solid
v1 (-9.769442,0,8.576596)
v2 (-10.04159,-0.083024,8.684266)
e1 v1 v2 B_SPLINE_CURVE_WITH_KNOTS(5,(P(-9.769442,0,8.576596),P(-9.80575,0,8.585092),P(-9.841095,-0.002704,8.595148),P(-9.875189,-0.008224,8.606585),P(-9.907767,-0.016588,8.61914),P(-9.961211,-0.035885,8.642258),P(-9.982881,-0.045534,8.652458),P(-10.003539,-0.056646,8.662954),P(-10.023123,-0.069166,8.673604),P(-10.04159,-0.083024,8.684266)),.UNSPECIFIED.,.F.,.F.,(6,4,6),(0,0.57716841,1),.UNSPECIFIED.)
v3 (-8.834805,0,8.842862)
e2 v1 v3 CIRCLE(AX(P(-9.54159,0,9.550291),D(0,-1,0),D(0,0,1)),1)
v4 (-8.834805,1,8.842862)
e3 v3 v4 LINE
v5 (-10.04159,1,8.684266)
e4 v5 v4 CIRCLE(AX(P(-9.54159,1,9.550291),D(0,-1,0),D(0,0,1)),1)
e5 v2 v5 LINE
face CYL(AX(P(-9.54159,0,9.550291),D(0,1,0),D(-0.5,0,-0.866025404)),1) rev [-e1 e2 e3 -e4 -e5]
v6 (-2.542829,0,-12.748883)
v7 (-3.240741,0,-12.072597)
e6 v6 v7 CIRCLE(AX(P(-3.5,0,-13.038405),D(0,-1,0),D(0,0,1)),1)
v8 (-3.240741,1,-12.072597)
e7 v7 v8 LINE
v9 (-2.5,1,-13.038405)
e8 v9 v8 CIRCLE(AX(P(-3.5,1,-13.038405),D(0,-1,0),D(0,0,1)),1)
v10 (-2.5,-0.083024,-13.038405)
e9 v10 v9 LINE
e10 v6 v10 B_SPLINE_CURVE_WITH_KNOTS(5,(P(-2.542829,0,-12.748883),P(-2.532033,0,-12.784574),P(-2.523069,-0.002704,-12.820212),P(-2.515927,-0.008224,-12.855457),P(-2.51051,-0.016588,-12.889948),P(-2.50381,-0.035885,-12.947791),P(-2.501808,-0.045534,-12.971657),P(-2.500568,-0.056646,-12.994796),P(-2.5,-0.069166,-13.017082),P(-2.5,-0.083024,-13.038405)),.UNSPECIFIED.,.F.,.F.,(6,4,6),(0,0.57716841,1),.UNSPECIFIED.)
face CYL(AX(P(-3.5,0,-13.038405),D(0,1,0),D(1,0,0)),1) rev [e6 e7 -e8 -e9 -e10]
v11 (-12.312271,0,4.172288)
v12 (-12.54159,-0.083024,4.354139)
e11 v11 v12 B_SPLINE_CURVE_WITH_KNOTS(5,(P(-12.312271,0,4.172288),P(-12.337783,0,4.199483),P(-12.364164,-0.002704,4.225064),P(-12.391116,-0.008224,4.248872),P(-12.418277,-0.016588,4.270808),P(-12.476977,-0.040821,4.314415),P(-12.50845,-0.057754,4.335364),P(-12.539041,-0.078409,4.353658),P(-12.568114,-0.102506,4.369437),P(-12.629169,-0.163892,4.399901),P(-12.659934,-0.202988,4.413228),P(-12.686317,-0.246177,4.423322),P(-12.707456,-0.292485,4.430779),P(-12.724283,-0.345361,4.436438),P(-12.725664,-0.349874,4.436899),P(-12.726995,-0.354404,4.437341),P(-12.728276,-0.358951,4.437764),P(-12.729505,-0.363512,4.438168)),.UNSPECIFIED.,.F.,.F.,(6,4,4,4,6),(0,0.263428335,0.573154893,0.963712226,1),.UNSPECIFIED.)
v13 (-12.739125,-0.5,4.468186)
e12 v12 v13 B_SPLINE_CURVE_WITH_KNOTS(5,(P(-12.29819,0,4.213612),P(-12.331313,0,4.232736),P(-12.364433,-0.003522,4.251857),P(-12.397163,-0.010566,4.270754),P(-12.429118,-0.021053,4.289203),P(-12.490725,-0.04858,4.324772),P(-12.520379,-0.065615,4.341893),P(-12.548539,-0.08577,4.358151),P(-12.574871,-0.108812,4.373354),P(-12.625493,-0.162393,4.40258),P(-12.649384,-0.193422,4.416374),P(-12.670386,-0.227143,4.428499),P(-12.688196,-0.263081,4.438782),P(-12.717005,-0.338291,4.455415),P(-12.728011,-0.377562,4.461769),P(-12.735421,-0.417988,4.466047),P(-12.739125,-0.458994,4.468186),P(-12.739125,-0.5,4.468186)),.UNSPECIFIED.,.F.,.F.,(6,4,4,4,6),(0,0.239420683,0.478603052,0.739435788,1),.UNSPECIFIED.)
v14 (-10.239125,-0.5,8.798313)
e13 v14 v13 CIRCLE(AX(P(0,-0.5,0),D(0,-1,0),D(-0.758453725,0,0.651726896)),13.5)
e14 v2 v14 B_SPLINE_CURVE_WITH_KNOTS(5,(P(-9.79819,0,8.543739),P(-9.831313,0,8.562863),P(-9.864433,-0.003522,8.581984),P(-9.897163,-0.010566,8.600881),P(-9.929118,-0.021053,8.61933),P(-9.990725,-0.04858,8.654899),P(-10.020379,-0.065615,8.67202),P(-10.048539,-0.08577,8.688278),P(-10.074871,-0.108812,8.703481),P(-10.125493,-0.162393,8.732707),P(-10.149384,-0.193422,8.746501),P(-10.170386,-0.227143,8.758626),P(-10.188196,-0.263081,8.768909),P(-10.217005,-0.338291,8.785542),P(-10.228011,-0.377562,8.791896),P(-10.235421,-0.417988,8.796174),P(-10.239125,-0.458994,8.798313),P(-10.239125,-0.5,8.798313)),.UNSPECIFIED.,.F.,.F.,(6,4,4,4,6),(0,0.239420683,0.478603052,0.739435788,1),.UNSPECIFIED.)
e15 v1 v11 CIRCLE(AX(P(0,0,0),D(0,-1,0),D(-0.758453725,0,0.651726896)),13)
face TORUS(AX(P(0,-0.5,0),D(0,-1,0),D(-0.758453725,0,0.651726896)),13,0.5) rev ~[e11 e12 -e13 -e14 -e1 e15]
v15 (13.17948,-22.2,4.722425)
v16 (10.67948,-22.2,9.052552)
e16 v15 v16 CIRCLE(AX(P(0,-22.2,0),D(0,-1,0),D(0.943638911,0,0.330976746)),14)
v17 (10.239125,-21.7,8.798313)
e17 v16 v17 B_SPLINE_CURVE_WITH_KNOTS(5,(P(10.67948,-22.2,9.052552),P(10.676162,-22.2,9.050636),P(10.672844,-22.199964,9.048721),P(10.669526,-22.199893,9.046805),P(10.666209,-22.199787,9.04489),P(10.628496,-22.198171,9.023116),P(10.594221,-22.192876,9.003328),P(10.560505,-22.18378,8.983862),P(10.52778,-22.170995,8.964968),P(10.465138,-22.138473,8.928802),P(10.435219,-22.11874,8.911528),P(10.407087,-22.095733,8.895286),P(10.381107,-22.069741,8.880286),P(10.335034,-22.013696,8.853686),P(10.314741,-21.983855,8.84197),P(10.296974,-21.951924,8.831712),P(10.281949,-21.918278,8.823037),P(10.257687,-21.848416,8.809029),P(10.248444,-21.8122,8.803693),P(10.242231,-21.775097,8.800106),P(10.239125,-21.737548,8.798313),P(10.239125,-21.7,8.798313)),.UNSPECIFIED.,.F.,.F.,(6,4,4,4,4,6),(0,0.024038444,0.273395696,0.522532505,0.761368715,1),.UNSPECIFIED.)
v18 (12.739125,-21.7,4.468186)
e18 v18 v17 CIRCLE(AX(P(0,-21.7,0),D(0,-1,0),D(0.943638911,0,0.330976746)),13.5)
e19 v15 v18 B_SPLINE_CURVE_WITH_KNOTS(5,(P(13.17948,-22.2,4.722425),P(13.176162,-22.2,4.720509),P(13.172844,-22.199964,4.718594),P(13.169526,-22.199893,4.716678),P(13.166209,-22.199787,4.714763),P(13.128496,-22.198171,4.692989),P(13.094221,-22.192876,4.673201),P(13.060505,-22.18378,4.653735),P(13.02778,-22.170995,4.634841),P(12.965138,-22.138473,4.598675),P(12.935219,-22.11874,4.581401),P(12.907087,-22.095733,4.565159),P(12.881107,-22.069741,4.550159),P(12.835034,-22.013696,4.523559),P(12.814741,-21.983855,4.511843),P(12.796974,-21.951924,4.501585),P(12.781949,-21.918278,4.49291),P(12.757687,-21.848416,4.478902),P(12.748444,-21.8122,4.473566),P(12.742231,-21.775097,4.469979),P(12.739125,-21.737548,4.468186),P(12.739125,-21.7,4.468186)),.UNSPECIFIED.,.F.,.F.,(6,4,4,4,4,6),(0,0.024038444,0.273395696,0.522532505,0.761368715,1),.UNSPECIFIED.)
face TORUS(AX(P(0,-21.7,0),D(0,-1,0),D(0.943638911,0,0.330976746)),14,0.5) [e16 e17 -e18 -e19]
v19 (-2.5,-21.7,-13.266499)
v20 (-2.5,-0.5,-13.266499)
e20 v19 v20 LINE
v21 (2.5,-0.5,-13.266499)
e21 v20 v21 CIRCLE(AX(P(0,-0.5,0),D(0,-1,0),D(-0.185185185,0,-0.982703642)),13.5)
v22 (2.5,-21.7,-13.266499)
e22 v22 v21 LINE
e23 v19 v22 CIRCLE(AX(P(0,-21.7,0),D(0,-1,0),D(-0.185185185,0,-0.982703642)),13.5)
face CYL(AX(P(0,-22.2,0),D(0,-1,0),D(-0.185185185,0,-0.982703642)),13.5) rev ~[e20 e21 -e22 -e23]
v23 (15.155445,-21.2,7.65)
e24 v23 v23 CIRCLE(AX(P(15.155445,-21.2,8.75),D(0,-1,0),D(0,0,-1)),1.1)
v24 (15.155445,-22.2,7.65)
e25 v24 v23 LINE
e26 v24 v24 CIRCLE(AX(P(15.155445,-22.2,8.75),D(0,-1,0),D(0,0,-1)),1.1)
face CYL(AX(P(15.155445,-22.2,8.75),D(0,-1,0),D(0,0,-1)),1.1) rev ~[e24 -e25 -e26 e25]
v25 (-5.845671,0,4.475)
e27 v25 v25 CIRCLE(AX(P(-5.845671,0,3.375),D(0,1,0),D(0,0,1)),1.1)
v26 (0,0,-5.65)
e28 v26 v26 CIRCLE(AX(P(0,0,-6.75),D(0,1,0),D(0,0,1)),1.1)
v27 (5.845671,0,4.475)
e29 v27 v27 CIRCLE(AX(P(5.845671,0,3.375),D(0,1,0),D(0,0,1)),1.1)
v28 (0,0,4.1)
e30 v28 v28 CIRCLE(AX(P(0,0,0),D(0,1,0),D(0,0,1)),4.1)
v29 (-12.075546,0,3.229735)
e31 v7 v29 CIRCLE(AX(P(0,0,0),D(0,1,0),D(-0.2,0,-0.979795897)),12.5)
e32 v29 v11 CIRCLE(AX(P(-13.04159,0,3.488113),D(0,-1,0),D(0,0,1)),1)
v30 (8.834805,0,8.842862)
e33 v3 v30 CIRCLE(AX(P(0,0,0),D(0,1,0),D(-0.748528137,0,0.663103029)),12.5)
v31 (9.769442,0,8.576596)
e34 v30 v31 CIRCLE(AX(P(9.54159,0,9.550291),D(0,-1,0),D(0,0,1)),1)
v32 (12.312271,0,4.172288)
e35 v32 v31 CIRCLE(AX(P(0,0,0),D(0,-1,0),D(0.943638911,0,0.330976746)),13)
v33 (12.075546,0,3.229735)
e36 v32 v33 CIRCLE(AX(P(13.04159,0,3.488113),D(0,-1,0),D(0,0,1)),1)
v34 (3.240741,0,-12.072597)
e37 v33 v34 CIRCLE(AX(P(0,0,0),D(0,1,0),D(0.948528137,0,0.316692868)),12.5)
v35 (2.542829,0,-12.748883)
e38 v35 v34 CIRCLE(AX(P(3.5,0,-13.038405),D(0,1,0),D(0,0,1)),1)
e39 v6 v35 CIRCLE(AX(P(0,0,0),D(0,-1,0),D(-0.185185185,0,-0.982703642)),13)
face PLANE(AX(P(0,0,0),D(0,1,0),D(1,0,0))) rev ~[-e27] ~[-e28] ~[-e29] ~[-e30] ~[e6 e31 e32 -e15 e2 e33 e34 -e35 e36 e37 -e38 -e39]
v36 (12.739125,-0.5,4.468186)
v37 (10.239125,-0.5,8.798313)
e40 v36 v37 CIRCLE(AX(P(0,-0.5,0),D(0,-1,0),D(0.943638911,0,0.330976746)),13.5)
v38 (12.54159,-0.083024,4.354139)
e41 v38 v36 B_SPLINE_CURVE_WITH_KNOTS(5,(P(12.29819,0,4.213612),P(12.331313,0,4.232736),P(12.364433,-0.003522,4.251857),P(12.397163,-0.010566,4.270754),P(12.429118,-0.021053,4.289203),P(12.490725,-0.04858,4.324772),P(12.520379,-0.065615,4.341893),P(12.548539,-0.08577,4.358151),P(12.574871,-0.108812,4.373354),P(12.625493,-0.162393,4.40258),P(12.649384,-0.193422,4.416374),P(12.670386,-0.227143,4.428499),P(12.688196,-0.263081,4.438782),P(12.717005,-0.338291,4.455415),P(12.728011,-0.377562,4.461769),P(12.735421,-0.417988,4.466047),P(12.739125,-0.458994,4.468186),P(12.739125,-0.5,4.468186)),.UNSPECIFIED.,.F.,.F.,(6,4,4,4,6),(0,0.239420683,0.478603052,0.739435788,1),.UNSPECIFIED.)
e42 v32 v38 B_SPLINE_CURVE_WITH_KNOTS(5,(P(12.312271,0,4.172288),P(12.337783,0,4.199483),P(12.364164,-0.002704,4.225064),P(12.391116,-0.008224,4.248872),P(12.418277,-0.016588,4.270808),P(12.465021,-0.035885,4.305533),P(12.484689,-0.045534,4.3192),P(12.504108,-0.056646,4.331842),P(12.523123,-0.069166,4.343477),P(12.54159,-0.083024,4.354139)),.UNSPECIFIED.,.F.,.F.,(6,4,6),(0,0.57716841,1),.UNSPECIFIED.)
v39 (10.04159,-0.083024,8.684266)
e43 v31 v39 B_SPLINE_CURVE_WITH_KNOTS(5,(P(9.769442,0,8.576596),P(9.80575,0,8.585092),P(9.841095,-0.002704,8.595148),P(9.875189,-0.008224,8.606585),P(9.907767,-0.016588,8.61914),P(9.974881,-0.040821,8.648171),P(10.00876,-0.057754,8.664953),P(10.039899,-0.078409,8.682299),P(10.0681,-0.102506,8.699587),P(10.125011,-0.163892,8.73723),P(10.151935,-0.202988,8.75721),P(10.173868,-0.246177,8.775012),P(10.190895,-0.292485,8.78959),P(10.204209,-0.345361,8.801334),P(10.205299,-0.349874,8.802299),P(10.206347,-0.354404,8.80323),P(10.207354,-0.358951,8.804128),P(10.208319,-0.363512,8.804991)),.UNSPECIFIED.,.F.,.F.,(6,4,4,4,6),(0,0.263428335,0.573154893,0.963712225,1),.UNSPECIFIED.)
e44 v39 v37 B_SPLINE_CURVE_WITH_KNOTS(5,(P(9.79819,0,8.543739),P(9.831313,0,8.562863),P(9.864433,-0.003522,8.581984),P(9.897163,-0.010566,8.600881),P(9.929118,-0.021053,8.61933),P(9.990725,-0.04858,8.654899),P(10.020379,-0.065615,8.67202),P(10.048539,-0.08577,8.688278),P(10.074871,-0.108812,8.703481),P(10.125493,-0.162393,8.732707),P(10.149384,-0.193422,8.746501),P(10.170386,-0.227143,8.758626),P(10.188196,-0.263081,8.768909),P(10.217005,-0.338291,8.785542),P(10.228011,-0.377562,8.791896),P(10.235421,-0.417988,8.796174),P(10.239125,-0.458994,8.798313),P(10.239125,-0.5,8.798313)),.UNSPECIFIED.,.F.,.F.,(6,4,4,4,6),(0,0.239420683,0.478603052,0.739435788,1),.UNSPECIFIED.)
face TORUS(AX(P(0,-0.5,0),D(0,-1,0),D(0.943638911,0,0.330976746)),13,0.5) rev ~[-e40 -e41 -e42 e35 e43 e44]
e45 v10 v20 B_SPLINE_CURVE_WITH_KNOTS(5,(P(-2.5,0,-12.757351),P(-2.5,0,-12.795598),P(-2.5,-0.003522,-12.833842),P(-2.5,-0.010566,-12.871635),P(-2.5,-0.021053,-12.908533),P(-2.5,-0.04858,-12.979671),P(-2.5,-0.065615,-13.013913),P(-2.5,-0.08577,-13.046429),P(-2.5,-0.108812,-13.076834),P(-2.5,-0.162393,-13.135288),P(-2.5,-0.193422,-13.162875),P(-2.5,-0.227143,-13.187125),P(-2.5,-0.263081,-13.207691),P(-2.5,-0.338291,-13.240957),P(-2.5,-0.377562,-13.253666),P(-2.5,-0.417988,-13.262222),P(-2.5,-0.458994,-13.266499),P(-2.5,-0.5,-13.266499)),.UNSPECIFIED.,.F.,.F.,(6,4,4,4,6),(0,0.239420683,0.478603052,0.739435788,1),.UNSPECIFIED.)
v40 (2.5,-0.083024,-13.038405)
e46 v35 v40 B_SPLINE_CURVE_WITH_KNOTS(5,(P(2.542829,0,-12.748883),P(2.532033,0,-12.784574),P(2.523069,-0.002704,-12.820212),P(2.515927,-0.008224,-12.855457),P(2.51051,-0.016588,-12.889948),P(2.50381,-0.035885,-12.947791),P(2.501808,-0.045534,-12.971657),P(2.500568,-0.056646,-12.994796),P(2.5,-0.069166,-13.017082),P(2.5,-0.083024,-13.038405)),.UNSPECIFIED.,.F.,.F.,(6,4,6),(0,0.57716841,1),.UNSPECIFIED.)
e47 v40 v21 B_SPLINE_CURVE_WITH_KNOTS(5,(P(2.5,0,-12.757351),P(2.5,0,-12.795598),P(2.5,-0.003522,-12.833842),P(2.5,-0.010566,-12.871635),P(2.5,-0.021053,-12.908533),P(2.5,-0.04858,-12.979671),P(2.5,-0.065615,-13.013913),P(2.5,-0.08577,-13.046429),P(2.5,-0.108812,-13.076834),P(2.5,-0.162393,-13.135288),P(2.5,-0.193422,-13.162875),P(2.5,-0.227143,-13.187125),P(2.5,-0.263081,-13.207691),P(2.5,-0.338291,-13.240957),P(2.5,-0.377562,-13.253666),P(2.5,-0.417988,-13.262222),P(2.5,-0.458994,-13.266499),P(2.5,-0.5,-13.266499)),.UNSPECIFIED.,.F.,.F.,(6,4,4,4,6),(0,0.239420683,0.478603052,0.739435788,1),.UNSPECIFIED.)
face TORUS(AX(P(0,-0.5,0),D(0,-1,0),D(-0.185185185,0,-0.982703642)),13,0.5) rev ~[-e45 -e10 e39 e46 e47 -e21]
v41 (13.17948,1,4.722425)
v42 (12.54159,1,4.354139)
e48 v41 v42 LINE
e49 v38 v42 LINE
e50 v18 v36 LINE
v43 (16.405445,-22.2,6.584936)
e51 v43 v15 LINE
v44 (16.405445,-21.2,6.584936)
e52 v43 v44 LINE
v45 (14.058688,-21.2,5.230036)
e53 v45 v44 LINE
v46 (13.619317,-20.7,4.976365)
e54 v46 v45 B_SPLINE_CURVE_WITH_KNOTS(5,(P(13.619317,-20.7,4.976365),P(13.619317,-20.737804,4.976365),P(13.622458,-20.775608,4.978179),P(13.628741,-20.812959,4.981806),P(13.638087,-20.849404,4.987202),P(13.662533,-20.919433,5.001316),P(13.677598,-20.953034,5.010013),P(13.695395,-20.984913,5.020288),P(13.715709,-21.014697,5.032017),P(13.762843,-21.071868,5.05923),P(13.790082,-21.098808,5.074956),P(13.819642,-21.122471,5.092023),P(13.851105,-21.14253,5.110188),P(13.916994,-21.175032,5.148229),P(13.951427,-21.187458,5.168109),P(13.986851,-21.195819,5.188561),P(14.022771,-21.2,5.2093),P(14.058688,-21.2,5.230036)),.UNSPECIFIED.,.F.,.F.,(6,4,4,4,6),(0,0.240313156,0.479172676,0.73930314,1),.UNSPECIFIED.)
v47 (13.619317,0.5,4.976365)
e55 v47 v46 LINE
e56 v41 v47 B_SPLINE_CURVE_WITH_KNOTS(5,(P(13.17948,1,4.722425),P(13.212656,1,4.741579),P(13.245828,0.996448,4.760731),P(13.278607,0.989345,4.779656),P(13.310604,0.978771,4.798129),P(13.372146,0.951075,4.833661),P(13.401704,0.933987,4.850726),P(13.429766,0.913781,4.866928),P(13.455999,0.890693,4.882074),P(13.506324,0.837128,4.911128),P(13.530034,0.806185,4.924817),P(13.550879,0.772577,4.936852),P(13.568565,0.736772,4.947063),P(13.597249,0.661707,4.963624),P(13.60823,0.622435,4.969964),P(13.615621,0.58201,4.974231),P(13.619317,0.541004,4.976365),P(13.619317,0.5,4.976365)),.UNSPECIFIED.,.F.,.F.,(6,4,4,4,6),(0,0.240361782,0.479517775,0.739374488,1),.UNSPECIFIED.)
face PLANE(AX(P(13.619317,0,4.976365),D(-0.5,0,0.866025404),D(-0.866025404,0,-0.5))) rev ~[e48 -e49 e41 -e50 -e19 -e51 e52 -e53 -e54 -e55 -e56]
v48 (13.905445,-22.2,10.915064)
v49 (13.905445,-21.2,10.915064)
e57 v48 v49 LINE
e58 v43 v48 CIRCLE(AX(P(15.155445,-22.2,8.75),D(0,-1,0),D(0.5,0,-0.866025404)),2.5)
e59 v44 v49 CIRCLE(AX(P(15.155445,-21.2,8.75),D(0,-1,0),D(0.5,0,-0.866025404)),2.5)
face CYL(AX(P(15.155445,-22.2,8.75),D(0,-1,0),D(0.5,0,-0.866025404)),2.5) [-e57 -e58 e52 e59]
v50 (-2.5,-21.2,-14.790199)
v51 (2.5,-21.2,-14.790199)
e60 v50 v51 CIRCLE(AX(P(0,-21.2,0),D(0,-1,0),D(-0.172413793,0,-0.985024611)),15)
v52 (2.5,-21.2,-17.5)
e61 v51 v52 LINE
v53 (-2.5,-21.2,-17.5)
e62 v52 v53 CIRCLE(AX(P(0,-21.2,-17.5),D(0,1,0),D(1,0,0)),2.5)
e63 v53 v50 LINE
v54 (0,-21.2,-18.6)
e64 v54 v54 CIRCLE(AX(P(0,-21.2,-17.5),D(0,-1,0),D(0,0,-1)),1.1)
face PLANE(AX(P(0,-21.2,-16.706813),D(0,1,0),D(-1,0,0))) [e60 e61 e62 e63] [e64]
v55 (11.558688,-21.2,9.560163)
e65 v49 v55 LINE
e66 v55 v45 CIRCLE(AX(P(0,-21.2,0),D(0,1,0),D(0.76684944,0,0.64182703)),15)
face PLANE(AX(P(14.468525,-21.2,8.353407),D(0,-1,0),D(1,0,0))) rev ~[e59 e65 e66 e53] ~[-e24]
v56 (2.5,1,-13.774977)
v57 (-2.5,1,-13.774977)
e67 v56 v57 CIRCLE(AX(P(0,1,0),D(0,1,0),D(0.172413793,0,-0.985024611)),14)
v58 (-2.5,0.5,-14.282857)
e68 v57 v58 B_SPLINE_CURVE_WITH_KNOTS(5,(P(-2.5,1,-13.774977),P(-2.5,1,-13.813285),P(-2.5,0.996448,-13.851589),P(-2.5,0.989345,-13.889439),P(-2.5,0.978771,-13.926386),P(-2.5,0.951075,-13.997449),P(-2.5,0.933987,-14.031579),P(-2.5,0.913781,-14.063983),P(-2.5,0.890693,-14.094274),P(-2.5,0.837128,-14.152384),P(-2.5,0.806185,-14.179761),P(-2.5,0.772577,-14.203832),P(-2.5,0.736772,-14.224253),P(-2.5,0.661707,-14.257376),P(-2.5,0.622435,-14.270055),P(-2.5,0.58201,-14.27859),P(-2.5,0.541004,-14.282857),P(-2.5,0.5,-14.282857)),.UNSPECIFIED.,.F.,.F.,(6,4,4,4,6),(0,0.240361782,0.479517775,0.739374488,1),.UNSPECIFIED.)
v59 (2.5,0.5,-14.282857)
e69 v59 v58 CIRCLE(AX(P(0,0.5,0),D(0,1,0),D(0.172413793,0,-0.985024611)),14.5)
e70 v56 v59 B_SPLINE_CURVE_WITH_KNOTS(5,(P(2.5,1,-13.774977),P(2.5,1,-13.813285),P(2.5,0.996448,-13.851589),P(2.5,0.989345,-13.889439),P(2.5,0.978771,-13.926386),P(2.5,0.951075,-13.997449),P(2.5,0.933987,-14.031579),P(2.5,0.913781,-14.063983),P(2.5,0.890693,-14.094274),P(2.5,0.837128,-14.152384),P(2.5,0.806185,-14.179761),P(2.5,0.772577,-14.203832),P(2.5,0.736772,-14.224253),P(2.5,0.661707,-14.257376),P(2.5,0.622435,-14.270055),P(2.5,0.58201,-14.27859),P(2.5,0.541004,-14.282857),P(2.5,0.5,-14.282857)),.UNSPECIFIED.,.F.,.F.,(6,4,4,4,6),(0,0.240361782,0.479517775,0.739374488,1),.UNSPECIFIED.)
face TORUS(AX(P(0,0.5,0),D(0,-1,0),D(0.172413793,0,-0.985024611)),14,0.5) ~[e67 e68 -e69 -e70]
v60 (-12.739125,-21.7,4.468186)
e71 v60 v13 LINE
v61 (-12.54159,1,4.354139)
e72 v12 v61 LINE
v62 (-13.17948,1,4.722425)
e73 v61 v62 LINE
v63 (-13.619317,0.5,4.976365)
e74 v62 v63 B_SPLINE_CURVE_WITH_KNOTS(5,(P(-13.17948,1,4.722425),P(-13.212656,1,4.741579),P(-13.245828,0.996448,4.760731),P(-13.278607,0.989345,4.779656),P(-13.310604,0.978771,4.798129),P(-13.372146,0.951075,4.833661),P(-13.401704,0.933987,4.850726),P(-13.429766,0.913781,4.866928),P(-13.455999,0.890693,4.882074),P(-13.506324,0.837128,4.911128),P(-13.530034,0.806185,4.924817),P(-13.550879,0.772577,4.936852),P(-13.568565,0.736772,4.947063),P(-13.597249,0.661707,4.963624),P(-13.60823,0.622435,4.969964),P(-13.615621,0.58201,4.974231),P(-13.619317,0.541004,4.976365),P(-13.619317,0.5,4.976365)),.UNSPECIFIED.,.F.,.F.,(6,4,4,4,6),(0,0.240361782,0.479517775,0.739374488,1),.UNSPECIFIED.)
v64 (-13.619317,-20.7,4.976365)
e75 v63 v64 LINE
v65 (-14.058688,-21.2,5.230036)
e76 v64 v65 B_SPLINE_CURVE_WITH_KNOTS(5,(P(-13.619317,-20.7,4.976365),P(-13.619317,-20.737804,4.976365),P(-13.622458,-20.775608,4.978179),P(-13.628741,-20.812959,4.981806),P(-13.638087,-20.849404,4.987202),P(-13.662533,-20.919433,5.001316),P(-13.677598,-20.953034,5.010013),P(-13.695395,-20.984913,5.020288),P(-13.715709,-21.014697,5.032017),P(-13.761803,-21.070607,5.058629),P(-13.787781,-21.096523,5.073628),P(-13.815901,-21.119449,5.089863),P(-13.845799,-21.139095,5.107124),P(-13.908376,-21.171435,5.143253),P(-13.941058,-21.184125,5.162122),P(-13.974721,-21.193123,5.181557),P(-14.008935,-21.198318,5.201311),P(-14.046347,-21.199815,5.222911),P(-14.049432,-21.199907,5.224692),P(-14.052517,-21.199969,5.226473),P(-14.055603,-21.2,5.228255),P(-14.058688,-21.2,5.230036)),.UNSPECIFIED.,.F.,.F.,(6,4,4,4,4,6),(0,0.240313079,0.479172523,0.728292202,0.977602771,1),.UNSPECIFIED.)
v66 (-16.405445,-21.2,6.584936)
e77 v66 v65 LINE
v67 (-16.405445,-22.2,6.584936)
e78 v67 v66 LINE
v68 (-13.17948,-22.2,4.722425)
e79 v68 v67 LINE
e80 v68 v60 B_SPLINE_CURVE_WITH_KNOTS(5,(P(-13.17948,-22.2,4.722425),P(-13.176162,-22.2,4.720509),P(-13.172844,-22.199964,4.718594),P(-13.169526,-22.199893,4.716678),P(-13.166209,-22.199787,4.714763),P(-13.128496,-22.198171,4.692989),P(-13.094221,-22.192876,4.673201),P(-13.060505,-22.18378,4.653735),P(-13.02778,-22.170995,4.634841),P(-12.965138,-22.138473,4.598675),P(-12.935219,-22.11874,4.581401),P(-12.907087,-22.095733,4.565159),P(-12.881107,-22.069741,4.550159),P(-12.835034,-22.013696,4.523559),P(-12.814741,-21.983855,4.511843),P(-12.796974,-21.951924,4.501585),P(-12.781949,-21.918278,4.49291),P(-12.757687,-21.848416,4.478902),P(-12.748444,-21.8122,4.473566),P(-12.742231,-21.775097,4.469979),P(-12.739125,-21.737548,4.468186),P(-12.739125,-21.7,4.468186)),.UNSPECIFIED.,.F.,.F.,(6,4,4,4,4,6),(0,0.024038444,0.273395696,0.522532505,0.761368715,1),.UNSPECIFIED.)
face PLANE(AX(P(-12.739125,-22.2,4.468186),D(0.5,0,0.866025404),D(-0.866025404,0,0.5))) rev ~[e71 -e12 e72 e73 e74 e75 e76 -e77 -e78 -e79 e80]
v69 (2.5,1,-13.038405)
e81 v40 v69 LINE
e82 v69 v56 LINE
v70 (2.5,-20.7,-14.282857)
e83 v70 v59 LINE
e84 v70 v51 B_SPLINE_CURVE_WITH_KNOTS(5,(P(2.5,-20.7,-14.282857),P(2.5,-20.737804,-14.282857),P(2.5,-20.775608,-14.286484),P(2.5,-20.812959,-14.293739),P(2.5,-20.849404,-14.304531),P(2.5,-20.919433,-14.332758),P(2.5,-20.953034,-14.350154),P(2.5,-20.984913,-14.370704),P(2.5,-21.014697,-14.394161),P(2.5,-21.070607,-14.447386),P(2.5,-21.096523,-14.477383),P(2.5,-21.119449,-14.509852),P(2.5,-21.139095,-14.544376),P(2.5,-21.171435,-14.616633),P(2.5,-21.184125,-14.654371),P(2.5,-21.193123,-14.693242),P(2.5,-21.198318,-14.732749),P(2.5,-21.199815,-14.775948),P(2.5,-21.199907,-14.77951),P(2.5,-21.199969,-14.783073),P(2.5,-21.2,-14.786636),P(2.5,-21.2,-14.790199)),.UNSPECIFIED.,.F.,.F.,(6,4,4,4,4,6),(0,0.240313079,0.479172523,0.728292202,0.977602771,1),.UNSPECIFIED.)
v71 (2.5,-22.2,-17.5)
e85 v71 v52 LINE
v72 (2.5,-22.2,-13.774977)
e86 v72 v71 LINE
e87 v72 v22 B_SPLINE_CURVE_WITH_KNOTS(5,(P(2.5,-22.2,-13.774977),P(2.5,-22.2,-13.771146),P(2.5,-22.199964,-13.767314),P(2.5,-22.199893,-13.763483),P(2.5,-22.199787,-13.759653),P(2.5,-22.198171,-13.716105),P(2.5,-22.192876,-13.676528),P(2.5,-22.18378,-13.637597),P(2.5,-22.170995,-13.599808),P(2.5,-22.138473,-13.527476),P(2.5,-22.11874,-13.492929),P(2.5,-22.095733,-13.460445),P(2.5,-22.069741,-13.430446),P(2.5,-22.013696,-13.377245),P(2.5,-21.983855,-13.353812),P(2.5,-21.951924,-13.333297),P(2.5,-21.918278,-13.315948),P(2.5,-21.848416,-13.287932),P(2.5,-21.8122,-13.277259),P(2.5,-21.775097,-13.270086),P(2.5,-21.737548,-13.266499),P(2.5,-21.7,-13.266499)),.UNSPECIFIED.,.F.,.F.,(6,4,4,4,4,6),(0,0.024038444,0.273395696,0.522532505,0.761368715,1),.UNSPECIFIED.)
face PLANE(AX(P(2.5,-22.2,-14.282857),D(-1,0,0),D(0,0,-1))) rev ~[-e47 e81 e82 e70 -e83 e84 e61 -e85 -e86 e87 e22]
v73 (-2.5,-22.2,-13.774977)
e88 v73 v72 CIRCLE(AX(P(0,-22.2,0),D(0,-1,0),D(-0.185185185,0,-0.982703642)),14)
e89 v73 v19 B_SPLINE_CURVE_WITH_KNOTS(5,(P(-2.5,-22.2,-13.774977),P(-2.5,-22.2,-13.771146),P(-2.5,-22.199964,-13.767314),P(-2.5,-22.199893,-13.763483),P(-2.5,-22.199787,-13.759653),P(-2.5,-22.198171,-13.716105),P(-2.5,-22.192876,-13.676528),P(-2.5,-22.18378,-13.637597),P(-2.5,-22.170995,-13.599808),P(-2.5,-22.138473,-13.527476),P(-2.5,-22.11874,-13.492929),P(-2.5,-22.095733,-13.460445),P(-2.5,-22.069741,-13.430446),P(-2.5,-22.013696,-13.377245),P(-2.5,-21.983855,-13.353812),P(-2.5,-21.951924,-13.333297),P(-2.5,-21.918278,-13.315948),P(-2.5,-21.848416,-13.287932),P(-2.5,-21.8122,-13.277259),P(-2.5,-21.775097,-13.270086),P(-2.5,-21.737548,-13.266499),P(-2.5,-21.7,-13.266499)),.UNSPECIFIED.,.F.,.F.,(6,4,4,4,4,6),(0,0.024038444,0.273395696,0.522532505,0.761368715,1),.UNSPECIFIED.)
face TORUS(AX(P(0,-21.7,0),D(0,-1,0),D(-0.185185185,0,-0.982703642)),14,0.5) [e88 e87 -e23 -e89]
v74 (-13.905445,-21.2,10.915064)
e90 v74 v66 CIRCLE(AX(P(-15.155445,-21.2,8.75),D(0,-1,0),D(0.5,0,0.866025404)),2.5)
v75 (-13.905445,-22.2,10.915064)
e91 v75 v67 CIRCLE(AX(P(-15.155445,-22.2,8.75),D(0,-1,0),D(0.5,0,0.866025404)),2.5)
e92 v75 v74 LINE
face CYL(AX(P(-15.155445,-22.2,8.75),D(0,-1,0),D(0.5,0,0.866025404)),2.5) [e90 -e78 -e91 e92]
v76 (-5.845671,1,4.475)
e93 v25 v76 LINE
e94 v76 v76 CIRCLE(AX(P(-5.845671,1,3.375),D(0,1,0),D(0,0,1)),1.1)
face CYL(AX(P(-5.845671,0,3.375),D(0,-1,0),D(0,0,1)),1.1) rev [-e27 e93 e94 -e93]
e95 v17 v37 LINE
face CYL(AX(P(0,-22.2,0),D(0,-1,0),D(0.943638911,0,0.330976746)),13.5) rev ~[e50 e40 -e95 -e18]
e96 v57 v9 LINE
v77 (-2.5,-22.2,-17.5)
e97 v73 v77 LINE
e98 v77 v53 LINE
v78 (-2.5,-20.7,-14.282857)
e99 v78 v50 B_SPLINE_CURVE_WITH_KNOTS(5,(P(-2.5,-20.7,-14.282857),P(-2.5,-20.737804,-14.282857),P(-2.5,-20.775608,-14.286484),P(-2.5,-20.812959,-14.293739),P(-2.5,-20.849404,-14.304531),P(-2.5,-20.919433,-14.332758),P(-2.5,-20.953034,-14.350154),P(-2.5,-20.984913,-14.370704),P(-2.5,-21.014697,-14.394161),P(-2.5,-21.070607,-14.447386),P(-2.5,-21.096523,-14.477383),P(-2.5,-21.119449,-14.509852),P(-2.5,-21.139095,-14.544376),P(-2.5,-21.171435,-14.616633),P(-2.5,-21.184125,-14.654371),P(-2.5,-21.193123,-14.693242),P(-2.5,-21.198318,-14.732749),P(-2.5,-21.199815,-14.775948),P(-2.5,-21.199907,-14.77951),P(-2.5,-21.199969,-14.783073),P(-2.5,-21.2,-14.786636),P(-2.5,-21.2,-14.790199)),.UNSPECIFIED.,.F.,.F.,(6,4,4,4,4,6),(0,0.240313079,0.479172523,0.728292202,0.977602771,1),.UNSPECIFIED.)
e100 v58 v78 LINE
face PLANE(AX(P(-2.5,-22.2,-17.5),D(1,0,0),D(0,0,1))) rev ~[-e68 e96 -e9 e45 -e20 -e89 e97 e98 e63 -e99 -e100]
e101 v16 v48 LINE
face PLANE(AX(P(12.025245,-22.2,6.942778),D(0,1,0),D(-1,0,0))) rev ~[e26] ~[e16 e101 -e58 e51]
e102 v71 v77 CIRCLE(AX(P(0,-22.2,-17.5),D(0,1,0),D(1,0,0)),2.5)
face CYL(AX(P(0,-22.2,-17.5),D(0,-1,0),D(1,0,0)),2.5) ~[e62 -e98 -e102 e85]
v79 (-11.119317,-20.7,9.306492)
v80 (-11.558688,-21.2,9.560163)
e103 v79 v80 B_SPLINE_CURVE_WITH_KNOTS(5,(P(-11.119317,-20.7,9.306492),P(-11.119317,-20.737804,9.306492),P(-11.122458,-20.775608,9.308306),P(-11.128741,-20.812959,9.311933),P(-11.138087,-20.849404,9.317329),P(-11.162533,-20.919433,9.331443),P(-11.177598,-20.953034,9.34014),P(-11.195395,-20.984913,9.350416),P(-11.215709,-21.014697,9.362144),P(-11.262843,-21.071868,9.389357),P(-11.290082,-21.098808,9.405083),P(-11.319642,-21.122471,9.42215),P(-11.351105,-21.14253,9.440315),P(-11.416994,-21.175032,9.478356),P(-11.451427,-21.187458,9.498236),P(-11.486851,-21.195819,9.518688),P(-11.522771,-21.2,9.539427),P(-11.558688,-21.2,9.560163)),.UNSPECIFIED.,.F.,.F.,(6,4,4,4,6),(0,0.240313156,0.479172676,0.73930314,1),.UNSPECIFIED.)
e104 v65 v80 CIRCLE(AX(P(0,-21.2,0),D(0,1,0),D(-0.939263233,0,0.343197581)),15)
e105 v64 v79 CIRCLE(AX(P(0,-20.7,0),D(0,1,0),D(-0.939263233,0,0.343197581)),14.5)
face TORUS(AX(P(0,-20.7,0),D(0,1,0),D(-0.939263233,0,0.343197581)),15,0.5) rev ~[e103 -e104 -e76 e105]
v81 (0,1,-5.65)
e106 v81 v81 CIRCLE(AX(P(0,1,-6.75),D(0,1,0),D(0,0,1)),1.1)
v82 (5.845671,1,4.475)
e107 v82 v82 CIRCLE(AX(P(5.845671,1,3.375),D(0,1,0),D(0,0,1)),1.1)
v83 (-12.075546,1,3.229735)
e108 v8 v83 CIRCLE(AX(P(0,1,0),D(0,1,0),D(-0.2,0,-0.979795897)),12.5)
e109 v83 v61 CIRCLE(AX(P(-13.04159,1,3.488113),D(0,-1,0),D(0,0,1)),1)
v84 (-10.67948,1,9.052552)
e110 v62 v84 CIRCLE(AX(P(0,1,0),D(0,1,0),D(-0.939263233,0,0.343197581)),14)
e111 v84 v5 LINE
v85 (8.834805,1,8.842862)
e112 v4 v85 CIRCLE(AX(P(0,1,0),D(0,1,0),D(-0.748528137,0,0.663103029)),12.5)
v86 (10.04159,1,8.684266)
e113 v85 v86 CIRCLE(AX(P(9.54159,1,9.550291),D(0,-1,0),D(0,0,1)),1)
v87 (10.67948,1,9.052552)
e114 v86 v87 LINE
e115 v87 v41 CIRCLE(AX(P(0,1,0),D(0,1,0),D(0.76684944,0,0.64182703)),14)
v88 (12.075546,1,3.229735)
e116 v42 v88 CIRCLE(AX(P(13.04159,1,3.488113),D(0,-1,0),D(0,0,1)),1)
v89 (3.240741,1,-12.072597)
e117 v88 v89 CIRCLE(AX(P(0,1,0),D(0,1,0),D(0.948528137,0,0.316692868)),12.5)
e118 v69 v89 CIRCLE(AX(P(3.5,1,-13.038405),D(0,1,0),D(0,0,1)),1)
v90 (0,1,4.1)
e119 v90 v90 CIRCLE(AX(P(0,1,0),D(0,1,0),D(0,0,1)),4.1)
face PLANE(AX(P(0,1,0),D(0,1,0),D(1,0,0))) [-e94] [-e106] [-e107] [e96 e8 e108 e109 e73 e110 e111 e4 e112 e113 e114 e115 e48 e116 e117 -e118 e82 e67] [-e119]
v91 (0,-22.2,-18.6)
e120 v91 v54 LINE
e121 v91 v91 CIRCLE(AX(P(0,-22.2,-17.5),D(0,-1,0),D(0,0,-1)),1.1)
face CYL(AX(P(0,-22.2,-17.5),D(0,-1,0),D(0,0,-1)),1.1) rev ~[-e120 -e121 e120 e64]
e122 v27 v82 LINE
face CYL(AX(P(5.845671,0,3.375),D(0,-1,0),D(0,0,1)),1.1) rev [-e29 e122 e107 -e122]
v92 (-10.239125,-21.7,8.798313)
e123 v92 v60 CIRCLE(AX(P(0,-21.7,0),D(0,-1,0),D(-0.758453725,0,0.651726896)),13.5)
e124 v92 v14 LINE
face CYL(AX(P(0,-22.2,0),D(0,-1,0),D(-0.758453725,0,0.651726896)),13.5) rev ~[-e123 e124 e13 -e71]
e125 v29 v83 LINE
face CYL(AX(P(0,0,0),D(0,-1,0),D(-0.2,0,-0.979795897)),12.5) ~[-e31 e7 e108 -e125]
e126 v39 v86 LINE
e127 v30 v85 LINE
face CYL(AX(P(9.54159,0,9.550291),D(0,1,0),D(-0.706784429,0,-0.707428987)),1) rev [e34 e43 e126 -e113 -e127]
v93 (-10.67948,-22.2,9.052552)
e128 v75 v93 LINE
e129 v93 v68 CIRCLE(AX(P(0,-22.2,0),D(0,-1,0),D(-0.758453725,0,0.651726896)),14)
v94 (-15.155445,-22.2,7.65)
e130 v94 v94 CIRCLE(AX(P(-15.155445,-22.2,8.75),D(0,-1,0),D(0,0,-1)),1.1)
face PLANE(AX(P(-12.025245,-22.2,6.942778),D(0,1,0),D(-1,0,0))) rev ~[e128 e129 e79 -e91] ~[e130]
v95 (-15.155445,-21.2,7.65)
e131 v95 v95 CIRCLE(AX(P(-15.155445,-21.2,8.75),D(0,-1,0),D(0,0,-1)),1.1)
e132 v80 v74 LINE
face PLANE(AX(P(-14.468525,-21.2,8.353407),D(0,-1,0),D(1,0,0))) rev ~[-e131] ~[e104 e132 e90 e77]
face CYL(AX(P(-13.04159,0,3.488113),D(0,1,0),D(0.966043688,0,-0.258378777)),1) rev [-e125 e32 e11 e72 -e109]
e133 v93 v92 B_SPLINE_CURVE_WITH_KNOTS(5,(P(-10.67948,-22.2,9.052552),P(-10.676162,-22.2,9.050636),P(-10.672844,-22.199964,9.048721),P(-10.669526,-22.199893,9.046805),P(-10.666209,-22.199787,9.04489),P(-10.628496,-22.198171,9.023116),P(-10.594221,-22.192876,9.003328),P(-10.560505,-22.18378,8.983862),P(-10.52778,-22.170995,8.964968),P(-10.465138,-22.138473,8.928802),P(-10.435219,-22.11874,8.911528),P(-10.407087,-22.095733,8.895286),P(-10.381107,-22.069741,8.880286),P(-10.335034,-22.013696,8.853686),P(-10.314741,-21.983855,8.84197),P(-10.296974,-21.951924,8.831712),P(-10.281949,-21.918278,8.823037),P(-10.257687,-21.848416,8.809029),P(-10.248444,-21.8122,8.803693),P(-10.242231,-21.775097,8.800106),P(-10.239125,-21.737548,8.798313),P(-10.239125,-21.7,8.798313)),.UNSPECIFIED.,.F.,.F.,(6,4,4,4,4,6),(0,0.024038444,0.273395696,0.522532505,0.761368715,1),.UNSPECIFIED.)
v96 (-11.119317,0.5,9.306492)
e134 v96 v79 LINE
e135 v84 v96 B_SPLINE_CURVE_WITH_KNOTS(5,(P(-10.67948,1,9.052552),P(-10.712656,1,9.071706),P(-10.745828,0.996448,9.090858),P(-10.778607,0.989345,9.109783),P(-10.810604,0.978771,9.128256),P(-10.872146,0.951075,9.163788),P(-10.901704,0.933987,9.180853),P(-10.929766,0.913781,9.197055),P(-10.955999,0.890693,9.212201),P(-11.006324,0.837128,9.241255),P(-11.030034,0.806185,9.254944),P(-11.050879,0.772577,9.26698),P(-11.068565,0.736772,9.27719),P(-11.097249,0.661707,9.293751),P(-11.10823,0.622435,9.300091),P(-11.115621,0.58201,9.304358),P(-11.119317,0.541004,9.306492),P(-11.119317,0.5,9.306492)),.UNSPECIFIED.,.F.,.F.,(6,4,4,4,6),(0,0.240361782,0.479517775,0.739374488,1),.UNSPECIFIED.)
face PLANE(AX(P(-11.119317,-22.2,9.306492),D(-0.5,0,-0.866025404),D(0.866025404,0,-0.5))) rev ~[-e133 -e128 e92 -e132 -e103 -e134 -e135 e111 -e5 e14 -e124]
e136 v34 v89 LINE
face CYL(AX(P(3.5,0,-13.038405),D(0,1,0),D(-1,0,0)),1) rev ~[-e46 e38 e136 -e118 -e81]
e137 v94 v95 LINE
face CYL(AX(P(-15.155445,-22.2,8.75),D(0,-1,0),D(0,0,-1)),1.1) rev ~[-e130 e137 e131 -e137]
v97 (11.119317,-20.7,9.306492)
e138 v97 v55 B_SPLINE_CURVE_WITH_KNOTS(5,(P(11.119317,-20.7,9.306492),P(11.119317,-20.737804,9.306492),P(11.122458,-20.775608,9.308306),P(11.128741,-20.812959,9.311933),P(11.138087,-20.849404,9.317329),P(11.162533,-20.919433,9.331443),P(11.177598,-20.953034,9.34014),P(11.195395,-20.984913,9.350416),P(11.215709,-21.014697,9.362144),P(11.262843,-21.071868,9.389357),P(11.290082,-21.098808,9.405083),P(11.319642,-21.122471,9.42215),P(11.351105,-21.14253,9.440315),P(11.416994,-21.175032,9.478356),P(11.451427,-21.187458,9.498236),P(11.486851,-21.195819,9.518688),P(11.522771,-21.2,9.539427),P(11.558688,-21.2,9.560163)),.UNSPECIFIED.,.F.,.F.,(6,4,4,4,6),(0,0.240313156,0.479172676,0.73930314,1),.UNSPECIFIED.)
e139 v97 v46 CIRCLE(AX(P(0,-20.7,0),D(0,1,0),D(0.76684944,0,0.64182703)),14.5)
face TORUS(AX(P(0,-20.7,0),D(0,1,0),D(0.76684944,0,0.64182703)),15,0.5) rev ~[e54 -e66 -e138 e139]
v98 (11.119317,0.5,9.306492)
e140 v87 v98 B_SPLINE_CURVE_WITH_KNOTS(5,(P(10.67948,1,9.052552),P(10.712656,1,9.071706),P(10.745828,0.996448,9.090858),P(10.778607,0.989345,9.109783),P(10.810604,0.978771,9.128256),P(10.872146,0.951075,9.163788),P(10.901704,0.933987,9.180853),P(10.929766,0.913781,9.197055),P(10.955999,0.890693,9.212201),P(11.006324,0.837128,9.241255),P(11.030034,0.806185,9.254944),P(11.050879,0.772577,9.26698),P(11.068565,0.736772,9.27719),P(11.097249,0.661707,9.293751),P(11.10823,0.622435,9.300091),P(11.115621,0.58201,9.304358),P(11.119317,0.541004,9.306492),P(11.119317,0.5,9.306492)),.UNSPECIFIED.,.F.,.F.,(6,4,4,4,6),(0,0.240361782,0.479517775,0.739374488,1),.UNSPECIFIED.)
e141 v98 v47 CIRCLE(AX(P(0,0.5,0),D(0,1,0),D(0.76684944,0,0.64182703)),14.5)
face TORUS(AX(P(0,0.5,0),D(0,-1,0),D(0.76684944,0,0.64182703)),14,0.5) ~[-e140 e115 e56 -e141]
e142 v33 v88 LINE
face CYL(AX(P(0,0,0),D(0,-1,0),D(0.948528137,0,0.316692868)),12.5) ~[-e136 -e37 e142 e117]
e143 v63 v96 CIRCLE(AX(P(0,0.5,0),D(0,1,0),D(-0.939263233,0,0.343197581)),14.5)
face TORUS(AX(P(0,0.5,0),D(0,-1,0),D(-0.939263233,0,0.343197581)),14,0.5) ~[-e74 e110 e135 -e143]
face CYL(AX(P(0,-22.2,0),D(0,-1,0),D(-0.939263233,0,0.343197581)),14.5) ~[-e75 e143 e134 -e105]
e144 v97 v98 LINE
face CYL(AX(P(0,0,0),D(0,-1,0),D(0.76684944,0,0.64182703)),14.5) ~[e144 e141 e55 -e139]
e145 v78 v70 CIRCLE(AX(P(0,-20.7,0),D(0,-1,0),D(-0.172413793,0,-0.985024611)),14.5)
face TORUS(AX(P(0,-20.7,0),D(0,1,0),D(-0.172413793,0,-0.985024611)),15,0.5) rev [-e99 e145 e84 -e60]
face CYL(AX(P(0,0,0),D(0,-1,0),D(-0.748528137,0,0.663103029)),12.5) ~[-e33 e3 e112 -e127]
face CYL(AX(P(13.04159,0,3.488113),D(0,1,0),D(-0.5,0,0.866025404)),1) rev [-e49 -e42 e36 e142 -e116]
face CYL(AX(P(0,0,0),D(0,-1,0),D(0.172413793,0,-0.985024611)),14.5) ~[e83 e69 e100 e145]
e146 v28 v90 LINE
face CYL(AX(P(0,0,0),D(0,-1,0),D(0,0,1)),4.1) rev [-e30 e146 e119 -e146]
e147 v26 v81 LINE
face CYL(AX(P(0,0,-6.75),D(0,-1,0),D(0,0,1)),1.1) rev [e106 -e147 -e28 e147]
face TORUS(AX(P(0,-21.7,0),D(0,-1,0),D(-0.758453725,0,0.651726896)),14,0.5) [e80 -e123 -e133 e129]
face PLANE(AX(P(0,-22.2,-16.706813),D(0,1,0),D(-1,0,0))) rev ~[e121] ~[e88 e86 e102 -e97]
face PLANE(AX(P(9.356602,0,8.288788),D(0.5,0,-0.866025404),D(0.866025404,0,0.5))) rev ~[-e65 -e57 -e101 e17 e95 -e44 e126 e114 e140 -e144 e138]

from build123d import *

# Parameters (mm, degrees)
ESBO_O1_R                = 4.1
ESBO_O1_R_2              = 1.099999999999999
ESBO_O1_R_3              = 1.1000000000000312
ESBO_O1_R_4              = 1.1000000000000612
RESSALTO_EXTRUS_O1_DEPTH = 1
RESSALTO_EXTRUS_O2_START = 22.2
RESSALTO_EXTRUS_O2_DEPTH = 22.2
ESBO_O3_R                = 1.1
ESBO_O3_R_2              = 1.100000000000001
ESBO_O3_R_3              = 1.0999999999999976
RESSALTO_EXTRUS_O3_DEPTH = 1
FILETE1_R                = 1
FILETE2_R                = 0.5
FILETE3_R                = 0.5
FILETE4_R                = 0.5
FILETE5_R                = 0.5


with BuildPart() as part:
    # Esboço1 → Ressalto-extrusão1 (new body)
    with BuildSketch(Plane(origin=(0, 0, 0), x_dir=(1, 0, 0), z_dir=(0, 1, 0))):
        with BuildLine():
            Line((-2.5000000000000018, 14.2828568570857), (-2.5000000000000004, 12.24744871391589))
            ThreePointArc((-2.5000000000000004, 12.24744871391589), (-10.825317547305453, 6.250000000000052), (-11.856601717798243, -3.9586608474967395))
            Line((-11.856601717798243, -3.9586608474967395), (-13.619316876853024, -4.976364919081628))
            ThreePointArc((-13.619316876853024, -4.976364919081628), (-12.557368354874425, -7.249999999999881), (-11.119316876853064, -9.306491938003845))
            Line((-11.119316876853064, -9.306491938003845), (-9.356601717798284, -8.288787866418957))
            ThreePointArc((-9.356601717798284, -8.288787866418957), (-8.528e-14, -12.499999999999996), (9.356601717798178, -8.288787866419089))
            Line((9.356601717798178, -8.288787866419089), (11.119316876852942, -9.306491938004001))
            ThreePointArc((11.119316876852942, -9.306491938004001), (12.55736835487433, -7.250000000000061), (13.619316876852963, -4.976364919081819))
            Line((13.619316876852963, -4.976364919081819), (11.856601717798197, -3.958660847496907))
            ThreePointArc((11.856601717798197, -3.958660847496907), (10.8253175473055, 6.249999999999976), (2.499999999999998, 12.24744871391589))
            Line((2.499999999999998, 12.24744871391589), (2.4999999999999982, 14.2828568570857))
            ThreePointArc((2.4999999999999982, 14.2828568570857), (8.9e-16, 14.5), (-2.5000000000000018, 14.2828568570857))
        make_face()
        with Locations(Location((0, 0, 0), (0, 0, 270))):
            Circle(ESBO_O1_R, mode=Mode.SUBTRACT)
        with Locations(Location((0, 6.750000000000001, 0), (0, 0, 270))):
            Circle(ESBO_O1_R_2, mode=Mode.SUBTRACT)
        with Locations(Location((5.845671475544961, -3.374999999999999, 0), (0, 0, 270))):
            Circle(ESBO_O1_R_3, mode=Mode.SUBTRACT)
        with Locations(Location((-5.84567147554496, -3.3750000000000036, 0), (0, 0, 270))):
            Circle(ESBO_O1_R_4, mode=Mode.SUBTRACT)
    extrude(amount=RESSALTO_EXTRUS_O1_DEPTH)

    # Esboço2 → Ressalto-extrusão2 (add)
    with BuildSketch(Plane.XZ.offset(RESSALTO_EXTRUS_O2_START)):
        with BuildLine():
            Line((-11.11931687685307, 9.30649193800384), (-10.239125293076137, 8.798313090171801))
            ThreePointArc((-10.239125293076137, 8.798313090171801), (-11.691342951089984, 6.74999999999989), (-12.739125293076098, 4.4681860712495824))
            Line((-12.739125293076098, 4.4681860712495824), (-13.619316876853024, 4.976364919081628))
            ThreePointArc((-13.619316876853024, 4.976364919081628), (-12.557368354874427, 7.249999999999882), (-11.11931687685307, 9.30649193800384))
        make_face()
        with BuildLine():
            Line((-2.5000000000000018, -14.2828568570857), (-2.5000000000000013, -13.266499161421601))
            ThreePointArc((-2.5000000000000013, -13.266499161421601), (-2.17e-15, -13.500000000000002), (2.499999999999998, -13.266499161421601))
            Line((2.499999999999998, -13.266499161421601), (2.4999999999999982, -14.2828568570857))
            ThreePointArc((2.4999999999999982, -14.2828568570857), (8.9e-16, -14.500000000000002), (-2.5000000000000018, -14.2828568570857))
        make_face()
        with BuildLine():
            Line((13.619316876852963, 4.976364919081819), (12.739125293076041, 4.468186071249766))
            ThreePointArc((12.739125293076041, 4.468186071249766), (11.691342951089894, 6.750000000000058), (10.239125293076022, 8.798313090171948))
            Line((10.239125293076022, 8.798313090171948), (11.119316876852942, 9.306491938004001))
            ThreePointArc((11.119316876852942, 9.306491938004001), (12.557368354874331, 7.250000000000062), (13.619316876852963, 4.976364919081819))
        make_face()
    extrude(amount=-RESSALTO_EXTRUS_O2_DEPTH)

    # Esboço3 → Ressalto-extrusão3 (add)
    # profile 1 of 3: a face of its own
    with BuildSketch(Plane.XZ.offset(22.2)):
        with BuildLine():
            Line((2.4999999999999982, -14.2828568570857), (2.4999999999999982, -17.5))
            ThreePointArc((2.4999999999999982, -17.5), (-1.99e-15, -20), (-2.500000000000002, -17.5))
            Line((-2.500000000000002, -17.5), (-2.5000000000000018, -14.2828568570857))
            ThreePointArc((-2.5000000000000018, -14.2828568570857), (8.9e-16, -14.500000000000002), (2.4999999999999982, -14.2828568570857))
        make_face()
        with Locations(Location((-1.53e-15, -17.5, 0), (0, 0, 270))):
            Circle(ESBO_O3_R, mode=Mode.SUBTRACT)
    # profile 2 of 3: a face of its own
    with BuildSketch(Plane.XZ.offset(22.2)):
        with BuildLine():
            Line((-11.11931687685294, 9.306491938004003), (-13.905444566227628, 10.915063509461165))
            ThreePointArc((-13.905444566227628, 10.915063509461165), (-17.320508075688732, 10.000000000000085), (-16.40544456622765, 6.584936490538983))
            Line((-16.40544456622765, 6.584936490538983), (-13.619316876852961, 4.97636491908182))
            ThreePointArc((-13.619316876852961, 4.97636491908182), (-12.55736835487433, 7.250000000000063), (-11.11931687685294, 9.306491938004003))
        make_face()
        with Locations(Location((-15.15544456622764, 8.750000000000073, 0), (0, 0, 270))):
            Circle(ESBO_O3_R_2, mode=Mode.SUBTRACT)
    # profile 3 of 3: a face of its own
    with BuildSketch(Plane.XZ.offset(22.2)):
        with BuildLine():
            Line((13.619316876853029, 4.976364919081625), (16.40544456622774, 6.58493649053875))
            ThreePointArc((16.40544456622774, 6.58493649053875), (17.320508075688867, 9.999999999999838), (13.905444566227779, 10.915063509460968))
            Line((13.905444566227779, 10.915063509460968), (11.11931687685307, 9.306491938003841))
            ThreePointArc((11.11931687685307, 9.306491938003841), (12.557368354874429, 7.249999999999881), (13.619316876853029, 4.976364919081625))
        make_face()
        with Locations(Location((15.155444566227757, 8.749999999999858, 0), (0, 0, 270))):
            Circle(ESBO_O3_R_3, mode=Mode.SUBTRACT)
    extrude(amount=-RESSALTO_EXTRUS_O3_DEPTH)

    # Filete1
    filete1_edges = [part.edges().sort_by_distance(p)[0] for p in [
        (11.856601717798199, 0.5, 3.9586608474969074),
        (2.4999999999999982, 0.5, -12.24744871391589),
        (-2.5000000000000004, 0.5, -12.24744871391589),
        (-11.856601717798242, 0.5, 3.9586608474967386),
        (9.356601717798178, 0.5, 8.288787866419089),
        (-9.356601717798284, 0.5, 8.288787866418957),
    ]]
    fillet(filete1_edges, radius=FILETE1_R)

    # Filete2
    filete2_edges = [part.edges().sort_by_distance(p)[0] for p in [
        (-12.557368354874423, 1, 7.2499999999998845),
        (12.557368354874328, 1, 7.250000000000058),
        (-2.33e-15, 1, -14.5),
    ]]
    fillet(filete2_edges, radius=FILETE2_R)

    # Filete3
    filete3_edges = [part.edges().sort_by_distance(p)[0] for p in [
        (-1.67e-15, 0, -13.499999999999998),
        (11.691342951089894, 0, 6.750000000000058),
        (-11.691342951089982, 0, 6.749999999999892),
    ]]
    fillet(filete3_edges, radius=FILETE3_R)

    # Filete4
    filete4_edges = [part.edges().sort_by_distance(p)[0] for p in [
        (-12.557368354874328, -21.2, 7.250000000000062),
        (12.55736835487443, -21.2, 7.249999999999882),
        (-1.67e-15, -21.2, -14.500000000000004),
    ]]
    fillet(filete4_edges, radius=FILETE4_R)

    # Filete5
    filete5_edges = [part.edges().sort_by_distance(p)[0] for p in [
        (-1.67e-15, -22.2, -13.499999999999998),
        (-11.691342951089982, -22.2, 6.749999999999892),
        (11.691342951089894, -22.2, 6.750000000000058),
    ]]
    fillet(filete5_edges, radius=FILETE5_R)


solid = part.part
